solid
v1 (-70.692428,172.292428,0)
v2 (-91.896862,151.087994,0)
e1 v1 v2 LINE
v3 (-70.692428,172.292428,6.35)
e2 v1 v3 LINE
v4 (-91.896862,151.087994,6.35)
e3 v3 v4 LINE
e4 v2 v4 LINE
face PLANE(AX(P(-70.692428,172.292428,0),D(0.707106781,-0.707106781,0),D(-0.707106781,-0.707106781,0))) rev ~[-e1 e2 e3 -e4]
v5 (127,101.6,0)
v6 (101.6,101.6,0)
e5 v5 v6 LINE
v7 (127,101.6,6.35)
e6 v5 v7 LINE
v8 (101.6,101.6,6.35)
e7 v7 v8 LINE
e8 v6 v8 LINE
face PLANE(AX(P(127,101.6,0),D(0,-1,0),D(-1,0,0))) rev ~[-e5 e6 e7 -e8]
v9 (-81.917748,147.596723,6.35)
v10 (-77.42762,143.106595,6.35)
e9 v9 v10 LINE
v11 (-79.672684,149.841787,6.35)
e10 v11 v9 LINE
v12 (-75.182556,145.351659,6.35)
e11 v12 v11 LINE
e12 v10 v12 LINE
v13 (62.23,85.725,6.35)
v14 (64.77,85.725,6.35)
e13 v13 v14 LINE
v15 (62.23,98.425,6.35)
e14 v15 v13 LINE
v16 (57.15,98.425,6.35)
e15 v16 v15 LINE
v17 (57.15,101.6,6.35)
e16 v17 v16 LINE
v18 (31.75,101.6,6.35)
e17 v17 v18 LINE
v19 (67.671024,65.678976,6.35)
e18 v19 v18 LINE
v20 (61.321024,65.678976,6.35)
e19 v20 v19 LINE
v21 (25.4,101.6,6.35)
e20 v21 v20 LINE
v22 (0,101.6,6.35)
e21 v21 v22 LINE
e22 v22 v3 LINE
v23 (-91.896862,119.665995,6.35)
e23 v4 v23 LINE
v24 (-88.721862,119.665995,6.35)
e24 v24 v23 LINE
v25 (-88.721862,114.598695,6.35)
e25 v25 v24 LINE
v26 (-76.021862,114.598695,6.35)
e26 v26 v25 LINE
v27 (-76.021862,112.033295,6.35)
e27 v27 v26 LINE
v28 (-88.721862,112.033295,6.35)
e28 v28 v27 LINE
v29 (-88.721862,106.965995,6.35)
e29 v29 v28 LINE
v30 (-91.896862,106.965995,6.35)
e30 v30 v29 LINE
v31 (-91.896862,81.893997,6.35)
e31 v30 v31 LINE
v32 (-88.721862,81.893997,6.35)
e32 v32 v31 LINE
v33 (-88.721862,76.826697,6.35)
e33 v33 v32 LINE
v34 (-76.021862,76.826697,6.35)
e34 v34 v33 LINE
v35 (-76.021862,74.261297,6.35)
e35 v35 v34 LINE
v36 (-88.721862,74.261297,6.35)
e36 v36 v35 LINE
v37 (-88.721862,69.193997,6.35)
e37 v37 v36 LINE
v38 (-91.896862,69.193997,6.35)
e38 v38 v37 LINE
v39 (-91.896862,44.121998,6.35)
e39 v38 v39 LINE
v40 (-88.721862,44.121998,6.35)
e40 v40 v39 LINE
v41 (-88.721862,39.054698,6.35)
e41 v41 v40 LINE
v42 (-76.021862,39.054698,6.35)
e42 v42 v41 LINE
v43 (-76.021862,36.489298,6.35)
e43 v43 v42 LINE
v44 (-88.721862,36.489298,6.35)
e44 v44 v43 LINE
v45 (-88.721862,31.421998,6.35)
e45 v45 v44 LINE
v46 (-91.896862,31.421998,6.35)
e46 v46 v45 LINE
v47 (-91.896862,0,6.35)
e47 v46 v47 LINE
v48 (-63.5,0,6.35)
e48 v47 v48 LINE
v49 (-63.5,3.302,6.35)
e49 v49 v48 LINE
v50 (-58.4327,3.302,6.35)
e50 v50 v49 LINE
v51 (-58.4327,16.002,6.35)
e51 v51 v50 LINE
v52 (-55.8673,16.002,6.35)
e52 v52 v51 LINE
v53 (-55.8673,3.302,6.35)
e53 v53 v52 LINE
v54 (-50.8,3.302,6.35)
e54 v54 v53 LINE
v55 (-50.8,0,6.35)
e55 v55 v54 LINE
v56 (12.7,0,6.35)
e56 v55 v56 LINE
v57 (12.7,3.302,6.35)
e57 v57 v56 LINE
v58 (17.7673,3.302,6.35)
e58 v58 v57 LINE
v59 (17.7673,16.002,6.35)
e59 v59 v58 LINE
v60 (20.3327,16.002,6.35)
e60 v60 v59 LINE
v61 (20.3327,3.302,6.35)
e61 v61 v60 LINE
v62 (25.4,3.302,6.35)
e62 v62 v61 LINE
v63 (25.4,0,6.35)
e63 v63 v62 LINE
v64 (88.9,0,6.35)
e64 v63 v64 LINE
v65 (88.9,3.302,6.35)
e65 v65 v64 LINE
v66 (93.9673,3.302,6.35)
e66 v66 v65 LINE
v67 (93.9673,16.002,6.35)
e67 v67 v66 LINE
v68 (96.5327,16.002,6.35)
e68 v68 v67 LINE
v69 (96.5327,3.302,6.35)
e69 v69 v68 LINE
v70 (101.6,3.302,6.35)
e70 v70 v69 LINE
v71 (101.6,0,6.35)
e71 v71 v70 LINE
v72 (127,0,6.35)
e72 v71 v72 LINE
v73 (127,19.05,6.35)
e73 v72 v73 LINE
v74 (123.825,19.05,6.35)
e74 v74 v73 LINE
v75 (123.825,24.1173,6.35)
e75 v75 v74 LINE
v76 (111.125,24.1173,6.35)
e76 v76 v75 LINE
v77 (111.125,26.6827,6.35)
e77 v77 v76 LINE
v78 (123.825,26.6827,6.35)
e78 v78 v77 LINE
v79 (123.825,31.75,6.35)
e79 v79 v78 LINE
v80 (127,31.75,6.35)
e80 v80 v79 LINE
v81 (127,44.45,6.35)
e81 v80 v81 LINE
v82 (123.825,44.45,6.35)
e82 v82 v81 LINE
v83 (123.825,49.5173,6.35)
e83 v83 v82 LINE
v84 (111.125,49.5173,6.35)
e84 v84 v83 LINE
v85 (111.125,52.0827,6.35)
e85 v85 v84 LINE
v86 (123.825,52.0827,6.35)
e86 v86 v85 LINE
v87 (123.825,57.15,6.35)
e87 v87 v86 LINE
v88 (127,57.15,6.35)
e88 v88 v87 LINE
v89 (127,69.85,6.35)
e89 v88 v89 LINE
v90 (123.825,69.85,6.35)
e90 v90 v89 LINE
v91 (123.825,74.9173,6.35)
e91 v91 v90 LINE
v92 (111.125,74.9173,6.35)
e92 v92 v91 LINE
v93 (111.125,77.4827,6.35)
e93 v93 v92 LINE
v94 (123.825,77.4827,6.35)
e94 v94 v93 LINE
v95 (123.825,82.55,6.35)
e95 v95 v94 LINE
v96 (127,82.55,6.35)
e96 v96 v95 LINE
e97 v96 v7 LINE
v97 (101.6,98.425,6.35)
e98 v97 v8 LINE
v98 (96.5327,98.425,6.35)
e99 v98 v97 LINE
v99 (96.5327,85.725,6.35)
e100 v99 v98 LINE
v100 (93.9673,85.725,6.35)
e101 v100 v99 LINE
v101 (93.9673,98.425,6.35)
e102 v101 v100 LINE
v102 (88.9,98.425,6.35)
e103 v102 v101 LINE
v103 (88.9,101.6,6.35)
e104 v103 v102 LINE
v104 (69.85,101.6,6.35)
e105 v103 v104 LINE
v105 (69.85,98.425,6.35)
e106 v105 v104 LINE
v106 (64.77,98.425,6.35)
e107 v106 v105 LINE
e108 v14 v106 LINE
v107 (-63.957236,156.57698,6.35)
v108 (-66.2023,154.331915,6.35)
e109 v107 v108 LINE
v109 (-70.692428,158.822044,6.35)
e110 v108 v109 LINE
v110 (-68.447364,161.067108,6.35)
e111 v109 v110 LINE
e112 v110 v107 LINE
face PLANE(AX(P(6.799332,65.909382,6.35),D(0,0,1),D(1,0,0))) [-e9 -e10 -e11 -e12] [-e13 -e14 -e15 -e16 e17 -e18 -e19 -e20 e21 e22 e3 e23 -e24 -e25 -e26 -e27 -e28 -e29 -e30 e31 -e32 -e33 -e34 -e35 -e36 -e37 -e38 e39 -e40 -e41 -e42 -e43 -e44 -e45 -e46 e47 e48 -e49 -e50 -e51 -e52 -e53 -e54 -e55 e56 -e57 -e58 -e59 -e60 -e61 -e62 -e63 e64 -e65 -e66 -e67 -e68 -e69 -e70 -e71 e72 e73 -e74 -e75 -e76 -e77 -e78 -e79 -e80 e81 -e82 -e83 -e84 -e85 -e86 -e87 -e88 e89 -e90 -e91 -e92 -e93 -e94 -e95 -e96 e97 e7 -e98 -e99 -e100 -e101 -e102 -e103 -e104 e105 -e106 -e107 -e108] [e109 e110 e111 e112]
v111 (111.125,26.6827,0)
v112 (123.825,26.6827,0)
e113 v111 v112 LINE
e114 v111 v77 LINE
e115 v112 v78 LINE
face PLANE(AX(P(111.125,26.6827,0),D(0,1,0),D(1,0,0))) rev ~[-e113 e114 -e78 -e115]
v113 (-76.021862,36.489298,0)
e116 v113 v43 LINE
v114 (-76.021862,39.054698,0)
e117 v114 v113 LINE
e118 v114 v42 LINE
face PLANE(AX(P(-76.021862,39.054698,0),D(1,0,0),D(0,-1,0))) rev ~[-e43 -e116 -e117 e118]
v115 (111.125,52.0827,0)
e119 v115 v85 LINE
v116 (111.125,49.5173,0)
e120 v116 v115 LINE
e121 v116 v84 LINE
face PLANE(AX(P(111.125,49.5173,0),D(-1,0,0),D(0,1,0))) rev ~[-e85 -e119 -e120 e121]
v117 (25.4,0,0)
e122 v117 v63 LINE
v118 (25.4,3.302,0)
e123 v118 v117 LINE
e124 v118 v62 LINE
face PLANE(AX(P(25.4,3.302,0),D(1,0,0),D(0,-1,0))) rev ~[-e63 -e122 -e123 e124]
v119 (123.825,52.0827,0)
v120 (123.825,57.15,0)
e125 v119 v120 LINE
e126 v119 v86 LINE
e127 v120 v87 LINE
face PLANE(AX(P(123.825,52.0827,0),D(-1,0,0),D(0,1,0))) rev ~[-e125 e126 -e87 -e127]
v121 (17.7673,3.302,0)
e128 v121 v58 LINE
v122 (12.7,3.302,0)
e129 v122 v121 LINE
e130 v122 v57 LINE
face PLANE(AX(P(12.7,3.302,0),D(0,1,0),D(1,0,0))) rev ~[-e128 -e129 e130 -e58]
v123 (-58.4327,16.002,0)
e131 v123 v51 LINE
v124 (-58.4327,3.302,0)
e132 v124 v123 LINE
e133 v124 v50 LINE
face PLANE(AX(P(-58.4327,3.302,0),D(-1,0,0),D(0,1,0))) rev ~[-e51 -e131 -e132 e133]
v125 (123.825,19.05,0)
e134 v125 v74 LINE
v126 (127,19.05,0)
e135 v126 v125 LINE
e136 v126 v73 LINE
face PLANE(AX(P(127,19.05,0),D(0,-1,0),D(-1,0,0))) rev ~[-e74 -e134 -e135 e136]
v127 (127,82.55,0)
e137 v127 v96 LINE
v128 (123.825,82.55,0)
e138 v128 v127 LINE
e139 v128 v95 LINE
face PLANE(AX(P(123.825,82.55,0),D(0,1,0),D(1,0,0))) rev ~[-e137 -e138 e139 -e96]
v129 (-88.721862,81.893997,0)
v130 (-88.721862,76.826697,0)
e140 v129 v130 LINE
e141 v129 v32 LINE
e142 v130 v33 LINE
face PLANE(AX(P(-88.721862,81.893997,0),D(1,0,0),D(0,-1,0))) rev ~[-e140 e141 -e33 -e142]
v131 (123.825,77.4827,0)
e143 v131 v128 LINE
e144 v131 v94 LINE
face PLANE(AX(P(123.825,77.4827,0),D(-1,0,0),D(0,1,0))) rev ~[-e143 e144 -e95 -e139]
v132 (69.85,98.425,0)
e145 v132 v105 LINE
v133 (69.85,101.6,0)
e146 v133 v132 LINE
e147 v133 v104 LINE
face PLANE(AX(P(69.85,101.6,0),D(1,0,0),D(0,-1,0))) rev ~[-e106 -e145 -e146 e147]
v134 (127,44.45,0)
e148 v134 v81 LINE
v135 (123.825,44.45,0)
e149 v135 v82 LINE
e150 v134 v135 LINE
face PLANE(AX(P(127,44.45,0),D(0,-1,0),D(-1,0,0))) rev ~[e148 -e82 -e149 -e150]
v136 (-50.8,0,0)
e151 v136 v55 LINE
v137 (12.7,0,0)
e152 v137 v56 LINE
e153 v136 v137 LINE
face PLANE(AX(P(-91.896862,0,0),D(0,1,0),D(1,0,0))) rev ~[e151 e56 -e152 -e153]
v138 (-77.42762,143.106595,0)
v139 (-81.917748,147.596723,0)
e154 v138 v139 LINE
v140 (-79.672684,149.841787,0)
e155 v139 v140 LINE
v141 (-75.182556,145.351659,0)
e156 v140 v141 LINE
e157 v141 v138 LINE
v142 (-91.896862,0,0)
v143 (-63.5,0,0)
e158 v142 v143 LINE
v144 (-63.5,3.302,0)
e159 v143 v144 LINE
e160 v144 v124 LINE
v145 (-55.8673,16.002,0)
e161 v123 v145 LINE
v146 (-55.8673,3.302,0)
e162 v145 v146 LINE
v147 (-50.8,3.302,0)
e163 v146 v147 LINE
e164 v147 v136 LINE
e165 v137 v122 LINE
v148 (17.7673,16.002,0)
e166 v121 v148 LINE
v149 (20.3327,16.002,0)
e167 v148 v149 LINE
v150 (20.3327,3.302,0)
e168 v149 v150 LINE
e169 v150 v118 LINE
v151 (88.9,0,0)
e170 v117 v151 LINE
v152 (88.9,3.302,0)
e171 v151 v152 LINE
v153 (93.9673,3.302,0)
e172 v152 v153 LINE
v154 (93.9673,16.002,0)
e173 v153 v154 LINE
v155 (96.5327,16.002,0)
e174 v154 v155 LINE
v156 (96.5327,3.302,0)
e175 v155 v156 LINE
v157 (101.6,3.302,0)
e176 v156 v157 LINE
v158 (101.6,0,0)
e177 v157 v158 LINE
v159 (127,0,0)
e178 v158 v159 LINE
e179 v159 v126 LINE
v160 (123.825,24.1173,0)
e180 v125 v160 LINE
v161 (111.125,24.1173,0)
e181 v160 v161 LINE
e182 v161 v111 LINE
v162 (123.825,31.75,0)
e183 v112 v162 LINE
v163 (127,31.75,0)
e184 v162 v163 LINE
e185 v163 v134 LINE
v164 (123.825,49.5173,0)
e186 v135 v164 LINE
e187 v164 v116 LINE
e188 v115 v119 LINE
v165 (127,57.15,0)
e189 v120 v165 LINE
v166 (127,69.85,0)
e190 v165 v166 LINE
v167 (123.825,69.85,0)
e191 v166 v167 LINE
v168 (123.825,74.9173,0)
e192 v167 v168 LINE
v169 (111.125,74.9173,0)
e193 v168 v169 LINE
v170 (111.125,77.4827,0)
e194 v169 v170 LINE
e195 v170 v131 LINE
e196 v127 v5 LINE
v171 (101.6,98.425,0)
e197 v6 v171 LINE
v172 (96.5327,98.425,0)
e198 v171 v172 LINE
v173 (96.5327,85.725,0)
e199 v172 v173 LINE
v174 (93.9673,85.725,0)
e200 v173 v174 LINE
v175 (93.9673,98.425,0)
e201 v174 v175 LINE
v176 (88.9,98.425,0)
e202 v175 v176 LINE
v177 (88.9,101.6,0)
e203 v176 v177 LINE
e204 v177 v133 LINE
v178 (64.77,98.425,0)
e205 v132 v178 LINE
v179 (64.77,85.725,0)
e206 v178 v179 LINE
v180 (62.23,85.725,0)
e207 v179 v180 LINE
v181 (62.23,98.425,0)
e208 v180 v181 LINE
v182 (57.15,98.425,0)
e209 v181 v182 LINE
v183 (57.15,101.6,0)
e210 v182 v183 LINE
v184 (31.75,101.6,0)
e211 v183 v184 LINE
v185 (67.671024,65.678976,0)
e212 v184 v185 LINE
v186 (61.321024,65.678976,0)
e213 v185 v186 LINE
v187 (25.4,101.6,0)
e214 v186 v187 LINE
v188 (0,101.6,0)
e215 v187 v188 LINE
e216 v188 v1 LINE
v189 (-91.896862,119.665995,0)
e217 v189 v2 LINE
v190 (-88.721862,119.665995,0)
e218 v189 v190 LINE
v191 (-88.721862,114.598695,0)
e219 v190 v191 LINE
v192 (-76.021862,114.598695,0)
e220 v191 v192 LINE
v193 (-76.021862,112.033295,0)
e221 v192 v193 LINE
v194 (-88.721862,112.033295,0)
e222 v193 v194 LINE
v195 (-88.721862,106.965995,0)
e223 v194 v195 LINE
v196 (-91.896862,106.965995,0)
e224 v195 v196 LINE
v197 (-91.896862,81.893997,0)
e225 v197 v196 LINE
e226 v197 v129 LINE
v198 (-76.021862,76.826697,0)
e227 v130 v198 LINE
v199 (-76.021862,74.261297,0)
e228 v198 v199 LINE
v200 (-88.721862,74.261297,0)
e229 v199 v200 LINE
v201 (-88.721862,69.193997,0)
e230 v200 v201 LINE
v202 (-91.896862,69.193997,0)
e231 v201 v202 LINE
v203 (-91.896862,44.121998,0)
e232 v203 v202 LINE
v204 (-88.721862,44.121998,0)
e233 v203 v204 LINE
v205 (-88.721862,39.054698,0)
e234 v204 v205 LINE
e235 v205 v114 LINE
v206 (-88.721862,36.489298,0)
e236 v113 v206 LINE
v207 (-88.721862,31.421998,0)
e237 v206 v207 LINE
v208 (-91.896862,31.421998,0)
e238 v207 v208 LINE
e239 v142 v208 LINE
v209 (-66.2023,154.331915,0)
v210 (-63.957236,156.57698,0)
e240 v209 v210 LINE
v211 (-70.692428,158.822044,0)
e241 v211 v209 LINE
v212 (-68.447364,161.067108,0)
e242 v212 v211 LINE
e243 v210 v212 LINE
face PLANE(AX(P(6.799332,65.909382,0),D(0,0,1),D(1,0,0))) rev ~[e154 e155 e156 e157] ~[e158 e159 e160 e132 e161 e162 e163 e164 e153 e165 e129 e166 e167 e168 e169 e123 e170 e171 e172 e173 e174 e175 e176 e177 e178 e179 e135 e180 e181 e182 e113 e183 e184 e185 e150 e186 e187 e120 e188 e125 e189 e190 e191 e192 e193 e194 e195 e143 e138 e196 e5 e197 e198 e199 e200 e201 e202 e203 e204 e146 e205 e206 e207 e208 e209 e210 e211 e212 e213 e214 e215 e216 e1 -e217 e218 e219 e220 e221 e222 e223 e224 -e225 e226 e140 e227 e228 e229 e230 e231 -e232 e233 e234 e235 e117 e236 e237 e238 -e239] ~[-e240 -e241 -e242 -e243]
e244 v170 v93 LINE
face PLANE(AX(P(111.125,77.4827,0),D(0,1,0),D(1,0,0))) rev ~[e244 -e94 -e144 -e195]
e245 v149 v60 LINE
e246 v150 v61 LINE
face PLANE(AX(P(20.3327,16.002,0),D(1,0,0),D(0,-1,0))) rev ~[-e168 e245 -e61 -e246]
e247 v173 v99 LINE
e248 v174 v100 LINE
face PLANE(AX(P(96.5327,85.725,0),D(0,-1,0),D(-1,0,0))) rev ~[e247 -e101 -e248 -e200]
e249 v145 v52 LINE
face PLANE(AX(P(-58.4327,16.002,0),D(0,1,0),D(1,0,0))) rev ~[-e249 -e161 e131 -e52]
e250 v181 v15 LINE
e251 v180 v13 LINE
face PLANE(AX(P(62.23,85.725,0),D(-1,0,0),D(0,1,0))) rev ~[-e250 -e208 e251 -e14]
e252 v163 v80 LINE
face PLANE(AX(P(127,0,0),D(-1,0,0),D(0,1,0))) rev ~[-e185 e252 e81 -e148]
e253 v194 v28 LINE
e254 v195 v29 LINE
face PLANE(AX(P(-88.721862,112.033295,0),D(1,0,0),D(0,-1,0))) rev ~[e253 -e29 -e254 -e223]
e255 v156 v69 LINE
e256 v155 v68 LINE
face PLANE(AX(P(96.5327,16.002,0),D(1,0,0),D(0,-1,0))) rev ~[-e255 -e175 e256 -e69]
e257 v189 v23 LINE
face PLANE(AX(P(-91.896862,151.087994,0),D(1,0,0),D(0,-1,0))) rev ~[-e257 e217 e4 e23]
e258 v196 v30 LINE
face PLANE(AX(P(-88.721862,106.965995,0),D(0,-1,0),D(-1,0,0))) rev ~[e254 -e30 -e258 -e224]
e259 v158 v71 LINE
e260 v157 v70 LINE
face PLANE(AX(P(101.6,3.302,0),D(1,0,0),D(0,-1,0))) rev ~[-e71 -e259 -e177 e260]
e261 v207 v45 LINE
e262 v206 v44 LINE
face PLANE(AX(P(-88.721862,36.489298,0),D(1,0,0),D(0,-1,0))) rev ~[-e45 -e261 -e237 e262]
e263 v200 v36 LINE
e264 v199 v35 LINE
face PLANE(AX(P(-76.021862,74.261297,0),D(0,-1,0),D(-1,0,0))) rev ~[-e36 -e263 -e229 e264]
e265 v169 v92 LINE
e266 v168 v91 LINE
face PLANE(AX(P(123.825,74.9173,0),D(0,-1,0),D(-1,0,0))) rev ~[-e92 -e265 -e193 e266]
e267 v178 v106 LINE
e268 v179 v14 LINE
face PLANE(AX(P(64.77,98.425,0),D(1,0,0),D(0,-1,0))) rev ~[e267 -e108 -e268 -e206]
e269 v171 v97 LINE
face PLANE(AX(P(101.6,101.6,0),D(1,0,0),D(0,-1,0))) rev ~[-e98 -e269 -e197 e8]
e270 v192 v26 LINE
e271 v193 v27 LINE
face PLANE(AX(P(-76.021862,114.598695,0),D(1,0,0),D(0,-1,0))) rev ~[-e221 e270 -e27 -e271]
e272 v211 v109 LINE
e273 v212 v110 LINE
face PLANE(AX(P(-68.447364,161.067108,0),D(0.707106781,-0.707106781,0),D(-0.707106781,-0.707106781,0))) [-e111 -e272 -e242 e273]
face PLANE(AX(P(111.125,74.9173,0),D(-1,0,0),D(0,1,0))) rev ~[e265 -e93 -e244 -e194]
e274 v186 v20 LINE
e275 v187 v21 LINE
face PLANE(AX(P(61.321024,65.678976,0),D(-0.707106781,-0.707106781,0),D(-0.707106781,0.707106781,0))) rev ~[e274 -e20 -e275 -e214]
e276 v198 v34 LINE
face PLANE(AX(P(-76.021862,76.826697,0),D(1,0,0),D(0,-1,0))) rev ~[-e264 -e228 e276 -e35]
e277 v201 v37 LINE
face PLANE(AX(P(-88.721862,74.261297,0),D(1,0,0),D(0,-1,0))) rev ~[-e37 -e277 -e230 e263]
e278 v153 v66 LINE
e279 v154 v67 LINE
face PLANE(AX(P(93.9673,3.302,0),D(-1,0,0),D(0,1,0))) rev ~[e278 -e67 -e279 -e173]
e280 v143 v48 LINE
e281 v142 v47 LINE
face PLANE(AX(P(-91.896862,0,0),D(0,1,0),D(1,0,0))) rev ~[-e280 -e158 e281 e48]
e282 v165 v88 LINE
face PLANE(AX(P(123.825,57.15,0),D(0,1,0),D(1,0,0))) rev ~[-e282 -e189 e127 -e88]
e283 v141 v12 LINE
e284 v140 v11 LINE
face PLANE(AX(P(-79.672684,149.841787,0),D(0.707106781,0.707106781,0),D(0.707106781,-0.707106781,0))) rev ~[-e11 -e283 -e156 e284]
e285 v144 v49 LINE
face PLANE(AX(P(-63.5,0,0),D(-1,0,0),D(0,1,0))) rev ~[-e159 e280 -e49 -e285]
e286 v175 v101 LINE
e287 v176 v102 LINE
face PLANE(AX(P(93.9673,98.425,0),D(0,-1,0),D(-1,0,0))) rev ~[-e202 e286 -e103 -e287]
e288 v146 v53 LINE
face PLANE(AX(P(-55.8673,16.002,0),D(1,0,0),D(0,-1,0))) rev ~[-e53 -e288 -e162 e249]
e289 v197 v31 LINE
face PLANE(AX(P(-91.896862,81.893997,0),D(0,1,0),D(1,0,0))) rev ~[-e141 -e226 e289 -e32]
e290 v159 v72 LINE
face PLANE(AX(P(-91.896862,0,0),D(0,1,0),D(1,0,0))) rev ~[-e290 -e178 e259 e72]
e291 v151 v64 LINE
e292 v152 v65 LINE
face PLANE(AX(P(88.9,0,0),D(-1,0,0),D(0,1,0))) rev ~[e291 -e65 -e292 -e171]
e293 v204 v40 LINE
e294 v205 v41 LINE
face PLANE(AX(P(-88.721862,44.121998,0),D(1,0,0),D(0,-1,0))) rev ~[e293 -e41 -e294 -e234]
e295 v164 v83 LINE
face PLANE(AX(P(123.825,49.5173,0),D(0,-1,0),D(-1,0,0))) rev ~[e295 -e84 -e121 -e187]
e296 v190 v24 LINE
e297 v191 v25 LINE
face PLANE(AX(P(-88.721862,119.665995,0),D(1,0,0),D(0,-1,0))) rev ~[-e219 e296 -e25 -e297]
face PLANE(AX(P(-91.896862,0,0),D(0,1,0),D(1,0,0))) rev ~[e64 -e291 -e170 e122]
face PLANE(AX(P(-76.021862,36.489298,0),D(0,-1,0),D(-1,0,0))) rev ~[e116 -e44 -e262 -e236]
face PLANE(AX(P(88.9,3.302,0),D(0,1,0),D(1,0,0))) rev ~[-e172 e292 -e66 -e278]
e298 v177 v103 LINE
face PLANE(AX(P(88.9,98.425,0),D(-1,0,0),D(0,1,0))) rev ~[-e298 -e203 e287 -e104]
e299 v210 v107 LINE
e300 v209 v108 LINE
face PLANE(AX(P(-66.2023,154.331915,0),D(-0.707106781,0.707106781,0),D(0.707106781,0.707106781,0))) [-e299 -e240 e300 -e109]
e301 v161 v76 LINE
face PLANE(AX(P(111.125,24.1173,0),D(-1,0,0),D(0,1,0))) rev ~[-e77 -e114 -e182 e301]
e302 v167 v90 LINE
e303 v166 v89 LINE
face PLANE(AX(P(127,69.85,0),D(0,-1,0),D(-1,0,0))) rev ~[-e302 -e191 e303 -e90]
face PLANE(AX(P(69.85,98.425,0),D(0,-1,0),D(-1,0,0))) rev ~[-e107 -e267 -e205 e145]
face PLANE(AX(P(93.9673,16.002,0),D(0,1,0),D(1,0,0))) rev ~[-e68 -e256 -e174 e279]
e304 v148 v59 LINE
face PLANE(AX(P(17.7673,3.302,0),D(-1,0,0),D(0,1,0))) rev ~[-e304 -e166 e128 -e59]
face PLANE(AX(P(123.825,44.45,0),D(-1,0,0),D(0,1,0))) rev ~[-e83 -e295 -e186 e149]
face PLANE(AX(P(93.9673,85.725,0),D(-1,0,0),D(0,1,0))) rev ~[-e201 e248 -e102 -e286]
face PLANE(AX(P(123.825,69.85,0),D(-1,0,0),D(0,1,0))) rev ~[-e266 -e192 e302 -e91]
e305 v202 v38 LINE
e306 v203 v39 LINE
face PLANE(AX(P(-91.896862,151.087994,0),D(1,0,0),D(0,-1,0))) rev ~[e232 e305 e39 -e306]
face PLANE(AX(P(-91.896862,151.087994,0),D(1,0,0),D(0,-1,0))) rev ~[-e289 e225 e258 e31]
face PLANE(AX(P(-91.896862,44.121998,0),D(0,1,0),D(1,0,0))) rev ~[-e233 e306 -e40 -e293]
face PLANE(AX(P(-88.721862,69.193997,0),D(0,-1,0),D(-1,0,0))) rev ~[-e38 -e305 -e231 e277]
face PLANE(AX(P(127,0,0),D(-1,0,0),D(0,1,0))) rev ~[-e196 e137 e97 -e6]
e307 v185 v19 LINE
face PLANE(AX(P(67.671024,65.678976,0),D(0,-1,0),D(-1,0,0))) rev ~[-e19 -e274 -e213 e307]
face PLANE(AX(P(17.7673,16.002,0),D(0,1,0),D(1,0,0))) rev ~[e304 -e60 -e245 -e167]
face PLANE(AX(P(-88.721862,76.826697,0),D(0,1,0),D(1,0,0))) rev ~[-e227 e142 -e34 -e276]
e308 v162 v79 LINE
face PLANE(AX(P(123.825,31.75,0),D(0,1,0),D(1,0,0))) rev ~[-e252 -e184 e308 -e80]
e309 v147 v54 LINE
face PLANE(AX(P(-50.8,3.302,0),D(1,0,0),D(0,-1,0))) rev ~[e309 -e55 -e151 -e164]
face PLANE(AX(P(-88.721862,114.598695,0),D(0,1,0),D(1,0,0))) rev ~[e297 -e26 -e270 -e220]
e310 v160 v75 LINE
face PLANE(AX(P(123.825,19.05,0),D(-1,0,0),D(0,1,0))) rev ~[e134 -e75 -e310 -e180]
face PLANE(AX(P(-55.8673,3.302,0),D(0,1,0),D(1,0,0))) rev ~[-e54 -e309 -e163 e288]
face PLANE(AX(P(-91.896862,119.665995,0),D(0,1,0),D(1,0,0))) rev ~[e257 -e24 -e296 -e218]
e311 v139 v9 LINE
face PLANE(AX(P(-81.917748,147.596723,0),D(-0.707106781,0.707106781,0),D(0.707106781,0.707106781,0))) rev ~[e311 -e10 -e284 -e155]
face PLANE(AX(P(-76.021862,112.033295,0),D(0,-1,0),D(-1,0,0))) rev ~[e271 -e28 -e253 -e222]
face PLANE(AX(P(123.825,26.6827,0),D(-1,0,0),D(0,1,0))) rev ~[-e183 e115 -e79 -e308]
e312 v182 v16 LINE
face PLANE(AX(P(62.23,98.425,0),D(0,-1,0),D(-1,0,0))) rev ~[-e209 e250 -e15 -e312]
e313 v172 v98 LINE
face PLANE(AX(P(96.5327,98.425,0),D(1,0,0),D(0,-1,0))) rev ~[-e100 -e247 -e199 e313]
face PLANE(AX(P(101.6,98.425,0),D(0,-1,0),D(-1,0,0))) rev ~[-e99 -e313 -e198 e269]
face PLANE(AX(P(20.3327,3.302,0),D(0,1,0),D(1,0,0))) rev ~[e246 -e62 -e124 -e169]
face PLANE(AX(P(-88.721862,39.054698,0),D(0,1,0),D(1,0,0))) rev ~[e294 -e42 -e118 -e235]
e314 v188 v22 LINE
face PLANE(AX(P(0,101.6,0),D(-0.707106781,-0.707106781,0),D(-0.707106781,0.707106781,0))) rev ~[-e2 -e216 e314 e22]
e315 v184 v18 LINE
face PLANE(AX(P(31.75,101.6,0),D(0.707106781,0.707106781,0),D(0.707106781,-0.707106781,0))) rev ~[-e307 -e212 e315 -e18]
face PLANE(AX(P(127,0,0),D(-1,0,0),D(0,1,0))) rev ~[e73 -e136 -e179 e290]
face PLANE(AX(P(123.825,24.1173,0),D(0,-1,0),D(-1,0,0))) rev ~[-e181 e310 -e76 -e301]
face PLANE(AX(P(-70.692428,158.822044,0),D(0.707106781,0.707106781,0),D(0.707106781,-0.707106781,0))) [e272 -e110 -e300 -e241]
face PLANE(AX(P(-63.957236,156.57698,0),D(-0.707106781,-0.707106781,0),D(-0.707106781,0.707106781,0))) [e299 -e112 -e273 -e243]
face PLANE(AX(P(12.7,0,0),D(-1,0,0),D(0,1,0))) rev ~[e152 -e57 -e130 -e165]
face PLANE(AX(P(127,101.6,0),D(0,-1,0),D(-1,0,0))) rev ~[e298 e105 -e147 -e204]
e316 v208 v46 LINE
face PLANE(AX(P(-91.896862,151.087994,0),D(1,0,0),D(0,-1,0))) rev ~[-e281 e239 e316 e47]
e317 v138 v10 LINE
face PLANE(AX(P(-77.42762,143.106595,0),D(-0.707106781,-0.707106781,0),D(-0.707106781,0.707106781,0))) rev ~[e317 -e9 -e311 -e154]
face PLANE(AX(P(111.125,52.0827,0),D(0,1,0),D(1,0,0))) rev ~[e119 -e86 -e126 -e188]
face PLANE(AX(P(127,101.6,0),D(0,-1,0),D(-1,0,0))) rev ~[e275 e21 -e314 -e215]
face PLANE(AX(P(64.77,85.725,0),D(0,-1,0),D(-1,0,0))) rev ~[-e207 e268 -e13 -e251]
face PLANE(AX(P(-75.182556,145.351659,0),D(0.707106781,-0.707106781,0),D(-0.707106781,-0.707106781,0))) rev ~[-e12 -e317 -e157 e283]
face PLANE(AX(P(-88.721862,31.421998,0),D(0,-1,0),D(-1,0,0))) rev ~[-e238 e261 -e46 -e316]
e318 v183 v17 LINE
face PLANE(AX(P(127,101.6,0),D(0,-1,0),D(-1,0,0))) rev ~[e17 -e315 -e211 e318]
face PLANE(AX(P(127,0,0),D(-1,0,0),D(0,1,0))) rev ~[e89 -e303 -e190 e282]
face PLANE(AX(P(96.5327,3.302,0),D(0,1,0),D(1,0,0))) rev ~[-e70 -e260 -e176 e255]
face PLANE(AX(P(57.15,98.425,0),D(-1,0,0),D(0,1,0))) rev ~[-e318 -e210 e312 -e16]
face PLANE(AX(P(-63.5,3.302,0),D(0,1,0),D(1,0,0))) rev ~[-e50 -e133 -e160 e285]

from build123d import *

# Parameters (mm, degrees)
BOSS_EXTRUDE1_DEPTH     = 6.35
CUT_EXTRUDE2_DEPTH      = 2.54
CUT_EXTRUDE2_DEPTH_BACK = 127
CUT_EXTRUDE4_DEPTH      = 127
CUT_EXTRUDE4_DEPTH_BACK = 127
CUT_EXTRUDE5_DEPTH      = 127
CUT_EXTRUDE5_DEPTH_BACK = 127


with BuildPart() as part:
    # Sketch1 → Boss-Extrude1 (new body)
    with BuildSketch(Plane.XY):
        Polygon((0, 0), (127, 0), (127, 101.6), (0, 101.6), (-70.692427737, 172.292427737), (-91.896861793, 151.087993682), (-91.896861793, 0), align=None)
    extrude(amount=BOSS_EXTRUDE1_DEPTH)

    # Sketch2 → Cut-Extrude2 (cut, two sides: drawn at the far end of the back side and taken through both)
    with BuildSketch(Plane(origin=(0, 0, 0), x_dir=(-1, 0, 0), z_dir=(0, 0, -1)).offset(-CUT_EXTRUDE2_DEPTH_BACK)):
        Polygon((-61.321024484, 65.678975516), (-25.4, 101.6), (-31.75, 101.6), (-49.710512242, 83.639487758), (-67.671024484, 65.678975516), align=None)
    extrude(amount=CUT_EXTRUDE2_DEPTH + CUT_EXTRUDE2_DEPTH_BACK, mode=Mode.SUBTRACT)

    # Sketch3 → Cut-Extrude4 (cut, two sides: drawn at the far end of the back side and taken through both)
    with BuildSketch(Plane(origin=(0, 0, 0), x_dir=(-1, 0, 0), z_dir=(0, 0, -1)).offset(-CUT_EXTRUDE4_DEPTH_BACK)):
        Polygon((68.447363707, 161.067107586), (63.957235647, 156.576979525), (66.202299677, 154.331915495), (70.692427737, 158.822043556), align=None)
        Polygon((-127, 31.75), (-127, 19.05), (-123.825, 19.05), (-123.825, 24.1173), (-111.125, 24.1173), (-111.125, 26.6827), (-123.825, 26.6827), (-123.825, 31.75), align=None)
        Polygon((-57.15, 101.6), (-69.85, 101.6), (-69.85, 98.425), (-64.77, 98.425), (-64.77, 85.725), (-62.23, 85.725), (-62.23, 98.425), (-57.15, 98.425), align=None)
        Polygon((-88.9, 101.6), (-101.6, 101.6), (-101.6, 98.425), (-96.5327, 98.425), (-96.5327, 85.725), (-93.9673, 85.725), (-93.9673, 98.425), (-88.9, 98.425), align=None)
        Polygon((-127, 82.55), (-127, 69.85), (-123.825, 69.85), (-123.825, 74.9173), (-111.125, 74.9173), (-111.125, 77.4827), (-123.825, 77.4827), (-123.825, 82.55), align=None)
        Polygon((-127, 57.15), (-127, 44.45), (-123.825, 44.45), (-123.825, 49.5173), (-111.125, 49.5173), (-111.125, 52.0827), (-123.825, 52.0827), (-123.825, 57.15), align=None)
        Polygon((88.721861793, 106.965995261), (91.896861793, 106.965995261), (91.896861793, 119.665995261), (88.721861793, 119.665995261), (88.721861793, 114.598695261), (76.021861793, 114.598695261), (76.021861793, 112.033295261), (88.721861793, 112.033295261), align=None)
        Polygon((88.721861793, 69.193996841), (91.896861793, 69.193996841), (91.896861793, 81.893996841), (88.721861793, 81.893996841), (88.721861793, 76.826696841), (76.021861793, 76.826696841), (76.021861793, 74.261296841), (88.721861793, 74.261296841), align=None)
        Polygon((88.721861793, 31.42199842), (91.896861793, 31.42199842), (91.896861793, 44.12199842), (88.721861793, 44.12199842), (88.721861793, 39.05469842), (76.021861793, 39.05469842), (76.021861793, 36.48929842), (88.721861793, 36.48929842), align=None)
        Polygon((50.8, 3.302), (50.8, 0), (63.5, 0), (63.5, 3.302), (58.4327, 3.302), (58.4327, 16.002), (55.8673, 16.002), (55.8673, 3.302), align=None)
        Polygon((-25.4, 3.302), (-25.4, 0), (-12.7, 0), (-12.7, 3.302), (-17.7673, 3.302), (-17.7673, 16.002), (-20.3327, 16.002), (-20.3327, 3.302), align=None)
        Polygon((-101.6, 3.302), (-101.6, 0), (-88.9, 0), (-88.9, 3.302), (-93.9673, 3.302), (-93.9673, 16.002), (-96.5327, 16.002), (-96.5327, 3.302), align=None)
    extrude(amount=CUT_EXTRUDE4_DEPTH + CUT_EXTRUDE4_DEPTH_BACK, mode=Mode.SUBTRACT)

    # Sketch4 → Cut-Extrude5 (cut, two sides: drawn at the far end of the back side and taken through both)
    with BuildSketch(Plane.XY.offset(-CUT_EXTRUDE5_DEPTH_BACK)):
        Polygon((-81.917747889, 147.596723404), (-79.672683858, 149.841787435), (-75.182555798, 145.351659374), (-77.427619828, 143.106595344), align=None)
    extrude(amount=CUT_EXTRUDE5_DEPTH + CUT_EXTRUDE5_DEPTH_BACK, mode=Mode.SUBTRACT)


solid = part.part
